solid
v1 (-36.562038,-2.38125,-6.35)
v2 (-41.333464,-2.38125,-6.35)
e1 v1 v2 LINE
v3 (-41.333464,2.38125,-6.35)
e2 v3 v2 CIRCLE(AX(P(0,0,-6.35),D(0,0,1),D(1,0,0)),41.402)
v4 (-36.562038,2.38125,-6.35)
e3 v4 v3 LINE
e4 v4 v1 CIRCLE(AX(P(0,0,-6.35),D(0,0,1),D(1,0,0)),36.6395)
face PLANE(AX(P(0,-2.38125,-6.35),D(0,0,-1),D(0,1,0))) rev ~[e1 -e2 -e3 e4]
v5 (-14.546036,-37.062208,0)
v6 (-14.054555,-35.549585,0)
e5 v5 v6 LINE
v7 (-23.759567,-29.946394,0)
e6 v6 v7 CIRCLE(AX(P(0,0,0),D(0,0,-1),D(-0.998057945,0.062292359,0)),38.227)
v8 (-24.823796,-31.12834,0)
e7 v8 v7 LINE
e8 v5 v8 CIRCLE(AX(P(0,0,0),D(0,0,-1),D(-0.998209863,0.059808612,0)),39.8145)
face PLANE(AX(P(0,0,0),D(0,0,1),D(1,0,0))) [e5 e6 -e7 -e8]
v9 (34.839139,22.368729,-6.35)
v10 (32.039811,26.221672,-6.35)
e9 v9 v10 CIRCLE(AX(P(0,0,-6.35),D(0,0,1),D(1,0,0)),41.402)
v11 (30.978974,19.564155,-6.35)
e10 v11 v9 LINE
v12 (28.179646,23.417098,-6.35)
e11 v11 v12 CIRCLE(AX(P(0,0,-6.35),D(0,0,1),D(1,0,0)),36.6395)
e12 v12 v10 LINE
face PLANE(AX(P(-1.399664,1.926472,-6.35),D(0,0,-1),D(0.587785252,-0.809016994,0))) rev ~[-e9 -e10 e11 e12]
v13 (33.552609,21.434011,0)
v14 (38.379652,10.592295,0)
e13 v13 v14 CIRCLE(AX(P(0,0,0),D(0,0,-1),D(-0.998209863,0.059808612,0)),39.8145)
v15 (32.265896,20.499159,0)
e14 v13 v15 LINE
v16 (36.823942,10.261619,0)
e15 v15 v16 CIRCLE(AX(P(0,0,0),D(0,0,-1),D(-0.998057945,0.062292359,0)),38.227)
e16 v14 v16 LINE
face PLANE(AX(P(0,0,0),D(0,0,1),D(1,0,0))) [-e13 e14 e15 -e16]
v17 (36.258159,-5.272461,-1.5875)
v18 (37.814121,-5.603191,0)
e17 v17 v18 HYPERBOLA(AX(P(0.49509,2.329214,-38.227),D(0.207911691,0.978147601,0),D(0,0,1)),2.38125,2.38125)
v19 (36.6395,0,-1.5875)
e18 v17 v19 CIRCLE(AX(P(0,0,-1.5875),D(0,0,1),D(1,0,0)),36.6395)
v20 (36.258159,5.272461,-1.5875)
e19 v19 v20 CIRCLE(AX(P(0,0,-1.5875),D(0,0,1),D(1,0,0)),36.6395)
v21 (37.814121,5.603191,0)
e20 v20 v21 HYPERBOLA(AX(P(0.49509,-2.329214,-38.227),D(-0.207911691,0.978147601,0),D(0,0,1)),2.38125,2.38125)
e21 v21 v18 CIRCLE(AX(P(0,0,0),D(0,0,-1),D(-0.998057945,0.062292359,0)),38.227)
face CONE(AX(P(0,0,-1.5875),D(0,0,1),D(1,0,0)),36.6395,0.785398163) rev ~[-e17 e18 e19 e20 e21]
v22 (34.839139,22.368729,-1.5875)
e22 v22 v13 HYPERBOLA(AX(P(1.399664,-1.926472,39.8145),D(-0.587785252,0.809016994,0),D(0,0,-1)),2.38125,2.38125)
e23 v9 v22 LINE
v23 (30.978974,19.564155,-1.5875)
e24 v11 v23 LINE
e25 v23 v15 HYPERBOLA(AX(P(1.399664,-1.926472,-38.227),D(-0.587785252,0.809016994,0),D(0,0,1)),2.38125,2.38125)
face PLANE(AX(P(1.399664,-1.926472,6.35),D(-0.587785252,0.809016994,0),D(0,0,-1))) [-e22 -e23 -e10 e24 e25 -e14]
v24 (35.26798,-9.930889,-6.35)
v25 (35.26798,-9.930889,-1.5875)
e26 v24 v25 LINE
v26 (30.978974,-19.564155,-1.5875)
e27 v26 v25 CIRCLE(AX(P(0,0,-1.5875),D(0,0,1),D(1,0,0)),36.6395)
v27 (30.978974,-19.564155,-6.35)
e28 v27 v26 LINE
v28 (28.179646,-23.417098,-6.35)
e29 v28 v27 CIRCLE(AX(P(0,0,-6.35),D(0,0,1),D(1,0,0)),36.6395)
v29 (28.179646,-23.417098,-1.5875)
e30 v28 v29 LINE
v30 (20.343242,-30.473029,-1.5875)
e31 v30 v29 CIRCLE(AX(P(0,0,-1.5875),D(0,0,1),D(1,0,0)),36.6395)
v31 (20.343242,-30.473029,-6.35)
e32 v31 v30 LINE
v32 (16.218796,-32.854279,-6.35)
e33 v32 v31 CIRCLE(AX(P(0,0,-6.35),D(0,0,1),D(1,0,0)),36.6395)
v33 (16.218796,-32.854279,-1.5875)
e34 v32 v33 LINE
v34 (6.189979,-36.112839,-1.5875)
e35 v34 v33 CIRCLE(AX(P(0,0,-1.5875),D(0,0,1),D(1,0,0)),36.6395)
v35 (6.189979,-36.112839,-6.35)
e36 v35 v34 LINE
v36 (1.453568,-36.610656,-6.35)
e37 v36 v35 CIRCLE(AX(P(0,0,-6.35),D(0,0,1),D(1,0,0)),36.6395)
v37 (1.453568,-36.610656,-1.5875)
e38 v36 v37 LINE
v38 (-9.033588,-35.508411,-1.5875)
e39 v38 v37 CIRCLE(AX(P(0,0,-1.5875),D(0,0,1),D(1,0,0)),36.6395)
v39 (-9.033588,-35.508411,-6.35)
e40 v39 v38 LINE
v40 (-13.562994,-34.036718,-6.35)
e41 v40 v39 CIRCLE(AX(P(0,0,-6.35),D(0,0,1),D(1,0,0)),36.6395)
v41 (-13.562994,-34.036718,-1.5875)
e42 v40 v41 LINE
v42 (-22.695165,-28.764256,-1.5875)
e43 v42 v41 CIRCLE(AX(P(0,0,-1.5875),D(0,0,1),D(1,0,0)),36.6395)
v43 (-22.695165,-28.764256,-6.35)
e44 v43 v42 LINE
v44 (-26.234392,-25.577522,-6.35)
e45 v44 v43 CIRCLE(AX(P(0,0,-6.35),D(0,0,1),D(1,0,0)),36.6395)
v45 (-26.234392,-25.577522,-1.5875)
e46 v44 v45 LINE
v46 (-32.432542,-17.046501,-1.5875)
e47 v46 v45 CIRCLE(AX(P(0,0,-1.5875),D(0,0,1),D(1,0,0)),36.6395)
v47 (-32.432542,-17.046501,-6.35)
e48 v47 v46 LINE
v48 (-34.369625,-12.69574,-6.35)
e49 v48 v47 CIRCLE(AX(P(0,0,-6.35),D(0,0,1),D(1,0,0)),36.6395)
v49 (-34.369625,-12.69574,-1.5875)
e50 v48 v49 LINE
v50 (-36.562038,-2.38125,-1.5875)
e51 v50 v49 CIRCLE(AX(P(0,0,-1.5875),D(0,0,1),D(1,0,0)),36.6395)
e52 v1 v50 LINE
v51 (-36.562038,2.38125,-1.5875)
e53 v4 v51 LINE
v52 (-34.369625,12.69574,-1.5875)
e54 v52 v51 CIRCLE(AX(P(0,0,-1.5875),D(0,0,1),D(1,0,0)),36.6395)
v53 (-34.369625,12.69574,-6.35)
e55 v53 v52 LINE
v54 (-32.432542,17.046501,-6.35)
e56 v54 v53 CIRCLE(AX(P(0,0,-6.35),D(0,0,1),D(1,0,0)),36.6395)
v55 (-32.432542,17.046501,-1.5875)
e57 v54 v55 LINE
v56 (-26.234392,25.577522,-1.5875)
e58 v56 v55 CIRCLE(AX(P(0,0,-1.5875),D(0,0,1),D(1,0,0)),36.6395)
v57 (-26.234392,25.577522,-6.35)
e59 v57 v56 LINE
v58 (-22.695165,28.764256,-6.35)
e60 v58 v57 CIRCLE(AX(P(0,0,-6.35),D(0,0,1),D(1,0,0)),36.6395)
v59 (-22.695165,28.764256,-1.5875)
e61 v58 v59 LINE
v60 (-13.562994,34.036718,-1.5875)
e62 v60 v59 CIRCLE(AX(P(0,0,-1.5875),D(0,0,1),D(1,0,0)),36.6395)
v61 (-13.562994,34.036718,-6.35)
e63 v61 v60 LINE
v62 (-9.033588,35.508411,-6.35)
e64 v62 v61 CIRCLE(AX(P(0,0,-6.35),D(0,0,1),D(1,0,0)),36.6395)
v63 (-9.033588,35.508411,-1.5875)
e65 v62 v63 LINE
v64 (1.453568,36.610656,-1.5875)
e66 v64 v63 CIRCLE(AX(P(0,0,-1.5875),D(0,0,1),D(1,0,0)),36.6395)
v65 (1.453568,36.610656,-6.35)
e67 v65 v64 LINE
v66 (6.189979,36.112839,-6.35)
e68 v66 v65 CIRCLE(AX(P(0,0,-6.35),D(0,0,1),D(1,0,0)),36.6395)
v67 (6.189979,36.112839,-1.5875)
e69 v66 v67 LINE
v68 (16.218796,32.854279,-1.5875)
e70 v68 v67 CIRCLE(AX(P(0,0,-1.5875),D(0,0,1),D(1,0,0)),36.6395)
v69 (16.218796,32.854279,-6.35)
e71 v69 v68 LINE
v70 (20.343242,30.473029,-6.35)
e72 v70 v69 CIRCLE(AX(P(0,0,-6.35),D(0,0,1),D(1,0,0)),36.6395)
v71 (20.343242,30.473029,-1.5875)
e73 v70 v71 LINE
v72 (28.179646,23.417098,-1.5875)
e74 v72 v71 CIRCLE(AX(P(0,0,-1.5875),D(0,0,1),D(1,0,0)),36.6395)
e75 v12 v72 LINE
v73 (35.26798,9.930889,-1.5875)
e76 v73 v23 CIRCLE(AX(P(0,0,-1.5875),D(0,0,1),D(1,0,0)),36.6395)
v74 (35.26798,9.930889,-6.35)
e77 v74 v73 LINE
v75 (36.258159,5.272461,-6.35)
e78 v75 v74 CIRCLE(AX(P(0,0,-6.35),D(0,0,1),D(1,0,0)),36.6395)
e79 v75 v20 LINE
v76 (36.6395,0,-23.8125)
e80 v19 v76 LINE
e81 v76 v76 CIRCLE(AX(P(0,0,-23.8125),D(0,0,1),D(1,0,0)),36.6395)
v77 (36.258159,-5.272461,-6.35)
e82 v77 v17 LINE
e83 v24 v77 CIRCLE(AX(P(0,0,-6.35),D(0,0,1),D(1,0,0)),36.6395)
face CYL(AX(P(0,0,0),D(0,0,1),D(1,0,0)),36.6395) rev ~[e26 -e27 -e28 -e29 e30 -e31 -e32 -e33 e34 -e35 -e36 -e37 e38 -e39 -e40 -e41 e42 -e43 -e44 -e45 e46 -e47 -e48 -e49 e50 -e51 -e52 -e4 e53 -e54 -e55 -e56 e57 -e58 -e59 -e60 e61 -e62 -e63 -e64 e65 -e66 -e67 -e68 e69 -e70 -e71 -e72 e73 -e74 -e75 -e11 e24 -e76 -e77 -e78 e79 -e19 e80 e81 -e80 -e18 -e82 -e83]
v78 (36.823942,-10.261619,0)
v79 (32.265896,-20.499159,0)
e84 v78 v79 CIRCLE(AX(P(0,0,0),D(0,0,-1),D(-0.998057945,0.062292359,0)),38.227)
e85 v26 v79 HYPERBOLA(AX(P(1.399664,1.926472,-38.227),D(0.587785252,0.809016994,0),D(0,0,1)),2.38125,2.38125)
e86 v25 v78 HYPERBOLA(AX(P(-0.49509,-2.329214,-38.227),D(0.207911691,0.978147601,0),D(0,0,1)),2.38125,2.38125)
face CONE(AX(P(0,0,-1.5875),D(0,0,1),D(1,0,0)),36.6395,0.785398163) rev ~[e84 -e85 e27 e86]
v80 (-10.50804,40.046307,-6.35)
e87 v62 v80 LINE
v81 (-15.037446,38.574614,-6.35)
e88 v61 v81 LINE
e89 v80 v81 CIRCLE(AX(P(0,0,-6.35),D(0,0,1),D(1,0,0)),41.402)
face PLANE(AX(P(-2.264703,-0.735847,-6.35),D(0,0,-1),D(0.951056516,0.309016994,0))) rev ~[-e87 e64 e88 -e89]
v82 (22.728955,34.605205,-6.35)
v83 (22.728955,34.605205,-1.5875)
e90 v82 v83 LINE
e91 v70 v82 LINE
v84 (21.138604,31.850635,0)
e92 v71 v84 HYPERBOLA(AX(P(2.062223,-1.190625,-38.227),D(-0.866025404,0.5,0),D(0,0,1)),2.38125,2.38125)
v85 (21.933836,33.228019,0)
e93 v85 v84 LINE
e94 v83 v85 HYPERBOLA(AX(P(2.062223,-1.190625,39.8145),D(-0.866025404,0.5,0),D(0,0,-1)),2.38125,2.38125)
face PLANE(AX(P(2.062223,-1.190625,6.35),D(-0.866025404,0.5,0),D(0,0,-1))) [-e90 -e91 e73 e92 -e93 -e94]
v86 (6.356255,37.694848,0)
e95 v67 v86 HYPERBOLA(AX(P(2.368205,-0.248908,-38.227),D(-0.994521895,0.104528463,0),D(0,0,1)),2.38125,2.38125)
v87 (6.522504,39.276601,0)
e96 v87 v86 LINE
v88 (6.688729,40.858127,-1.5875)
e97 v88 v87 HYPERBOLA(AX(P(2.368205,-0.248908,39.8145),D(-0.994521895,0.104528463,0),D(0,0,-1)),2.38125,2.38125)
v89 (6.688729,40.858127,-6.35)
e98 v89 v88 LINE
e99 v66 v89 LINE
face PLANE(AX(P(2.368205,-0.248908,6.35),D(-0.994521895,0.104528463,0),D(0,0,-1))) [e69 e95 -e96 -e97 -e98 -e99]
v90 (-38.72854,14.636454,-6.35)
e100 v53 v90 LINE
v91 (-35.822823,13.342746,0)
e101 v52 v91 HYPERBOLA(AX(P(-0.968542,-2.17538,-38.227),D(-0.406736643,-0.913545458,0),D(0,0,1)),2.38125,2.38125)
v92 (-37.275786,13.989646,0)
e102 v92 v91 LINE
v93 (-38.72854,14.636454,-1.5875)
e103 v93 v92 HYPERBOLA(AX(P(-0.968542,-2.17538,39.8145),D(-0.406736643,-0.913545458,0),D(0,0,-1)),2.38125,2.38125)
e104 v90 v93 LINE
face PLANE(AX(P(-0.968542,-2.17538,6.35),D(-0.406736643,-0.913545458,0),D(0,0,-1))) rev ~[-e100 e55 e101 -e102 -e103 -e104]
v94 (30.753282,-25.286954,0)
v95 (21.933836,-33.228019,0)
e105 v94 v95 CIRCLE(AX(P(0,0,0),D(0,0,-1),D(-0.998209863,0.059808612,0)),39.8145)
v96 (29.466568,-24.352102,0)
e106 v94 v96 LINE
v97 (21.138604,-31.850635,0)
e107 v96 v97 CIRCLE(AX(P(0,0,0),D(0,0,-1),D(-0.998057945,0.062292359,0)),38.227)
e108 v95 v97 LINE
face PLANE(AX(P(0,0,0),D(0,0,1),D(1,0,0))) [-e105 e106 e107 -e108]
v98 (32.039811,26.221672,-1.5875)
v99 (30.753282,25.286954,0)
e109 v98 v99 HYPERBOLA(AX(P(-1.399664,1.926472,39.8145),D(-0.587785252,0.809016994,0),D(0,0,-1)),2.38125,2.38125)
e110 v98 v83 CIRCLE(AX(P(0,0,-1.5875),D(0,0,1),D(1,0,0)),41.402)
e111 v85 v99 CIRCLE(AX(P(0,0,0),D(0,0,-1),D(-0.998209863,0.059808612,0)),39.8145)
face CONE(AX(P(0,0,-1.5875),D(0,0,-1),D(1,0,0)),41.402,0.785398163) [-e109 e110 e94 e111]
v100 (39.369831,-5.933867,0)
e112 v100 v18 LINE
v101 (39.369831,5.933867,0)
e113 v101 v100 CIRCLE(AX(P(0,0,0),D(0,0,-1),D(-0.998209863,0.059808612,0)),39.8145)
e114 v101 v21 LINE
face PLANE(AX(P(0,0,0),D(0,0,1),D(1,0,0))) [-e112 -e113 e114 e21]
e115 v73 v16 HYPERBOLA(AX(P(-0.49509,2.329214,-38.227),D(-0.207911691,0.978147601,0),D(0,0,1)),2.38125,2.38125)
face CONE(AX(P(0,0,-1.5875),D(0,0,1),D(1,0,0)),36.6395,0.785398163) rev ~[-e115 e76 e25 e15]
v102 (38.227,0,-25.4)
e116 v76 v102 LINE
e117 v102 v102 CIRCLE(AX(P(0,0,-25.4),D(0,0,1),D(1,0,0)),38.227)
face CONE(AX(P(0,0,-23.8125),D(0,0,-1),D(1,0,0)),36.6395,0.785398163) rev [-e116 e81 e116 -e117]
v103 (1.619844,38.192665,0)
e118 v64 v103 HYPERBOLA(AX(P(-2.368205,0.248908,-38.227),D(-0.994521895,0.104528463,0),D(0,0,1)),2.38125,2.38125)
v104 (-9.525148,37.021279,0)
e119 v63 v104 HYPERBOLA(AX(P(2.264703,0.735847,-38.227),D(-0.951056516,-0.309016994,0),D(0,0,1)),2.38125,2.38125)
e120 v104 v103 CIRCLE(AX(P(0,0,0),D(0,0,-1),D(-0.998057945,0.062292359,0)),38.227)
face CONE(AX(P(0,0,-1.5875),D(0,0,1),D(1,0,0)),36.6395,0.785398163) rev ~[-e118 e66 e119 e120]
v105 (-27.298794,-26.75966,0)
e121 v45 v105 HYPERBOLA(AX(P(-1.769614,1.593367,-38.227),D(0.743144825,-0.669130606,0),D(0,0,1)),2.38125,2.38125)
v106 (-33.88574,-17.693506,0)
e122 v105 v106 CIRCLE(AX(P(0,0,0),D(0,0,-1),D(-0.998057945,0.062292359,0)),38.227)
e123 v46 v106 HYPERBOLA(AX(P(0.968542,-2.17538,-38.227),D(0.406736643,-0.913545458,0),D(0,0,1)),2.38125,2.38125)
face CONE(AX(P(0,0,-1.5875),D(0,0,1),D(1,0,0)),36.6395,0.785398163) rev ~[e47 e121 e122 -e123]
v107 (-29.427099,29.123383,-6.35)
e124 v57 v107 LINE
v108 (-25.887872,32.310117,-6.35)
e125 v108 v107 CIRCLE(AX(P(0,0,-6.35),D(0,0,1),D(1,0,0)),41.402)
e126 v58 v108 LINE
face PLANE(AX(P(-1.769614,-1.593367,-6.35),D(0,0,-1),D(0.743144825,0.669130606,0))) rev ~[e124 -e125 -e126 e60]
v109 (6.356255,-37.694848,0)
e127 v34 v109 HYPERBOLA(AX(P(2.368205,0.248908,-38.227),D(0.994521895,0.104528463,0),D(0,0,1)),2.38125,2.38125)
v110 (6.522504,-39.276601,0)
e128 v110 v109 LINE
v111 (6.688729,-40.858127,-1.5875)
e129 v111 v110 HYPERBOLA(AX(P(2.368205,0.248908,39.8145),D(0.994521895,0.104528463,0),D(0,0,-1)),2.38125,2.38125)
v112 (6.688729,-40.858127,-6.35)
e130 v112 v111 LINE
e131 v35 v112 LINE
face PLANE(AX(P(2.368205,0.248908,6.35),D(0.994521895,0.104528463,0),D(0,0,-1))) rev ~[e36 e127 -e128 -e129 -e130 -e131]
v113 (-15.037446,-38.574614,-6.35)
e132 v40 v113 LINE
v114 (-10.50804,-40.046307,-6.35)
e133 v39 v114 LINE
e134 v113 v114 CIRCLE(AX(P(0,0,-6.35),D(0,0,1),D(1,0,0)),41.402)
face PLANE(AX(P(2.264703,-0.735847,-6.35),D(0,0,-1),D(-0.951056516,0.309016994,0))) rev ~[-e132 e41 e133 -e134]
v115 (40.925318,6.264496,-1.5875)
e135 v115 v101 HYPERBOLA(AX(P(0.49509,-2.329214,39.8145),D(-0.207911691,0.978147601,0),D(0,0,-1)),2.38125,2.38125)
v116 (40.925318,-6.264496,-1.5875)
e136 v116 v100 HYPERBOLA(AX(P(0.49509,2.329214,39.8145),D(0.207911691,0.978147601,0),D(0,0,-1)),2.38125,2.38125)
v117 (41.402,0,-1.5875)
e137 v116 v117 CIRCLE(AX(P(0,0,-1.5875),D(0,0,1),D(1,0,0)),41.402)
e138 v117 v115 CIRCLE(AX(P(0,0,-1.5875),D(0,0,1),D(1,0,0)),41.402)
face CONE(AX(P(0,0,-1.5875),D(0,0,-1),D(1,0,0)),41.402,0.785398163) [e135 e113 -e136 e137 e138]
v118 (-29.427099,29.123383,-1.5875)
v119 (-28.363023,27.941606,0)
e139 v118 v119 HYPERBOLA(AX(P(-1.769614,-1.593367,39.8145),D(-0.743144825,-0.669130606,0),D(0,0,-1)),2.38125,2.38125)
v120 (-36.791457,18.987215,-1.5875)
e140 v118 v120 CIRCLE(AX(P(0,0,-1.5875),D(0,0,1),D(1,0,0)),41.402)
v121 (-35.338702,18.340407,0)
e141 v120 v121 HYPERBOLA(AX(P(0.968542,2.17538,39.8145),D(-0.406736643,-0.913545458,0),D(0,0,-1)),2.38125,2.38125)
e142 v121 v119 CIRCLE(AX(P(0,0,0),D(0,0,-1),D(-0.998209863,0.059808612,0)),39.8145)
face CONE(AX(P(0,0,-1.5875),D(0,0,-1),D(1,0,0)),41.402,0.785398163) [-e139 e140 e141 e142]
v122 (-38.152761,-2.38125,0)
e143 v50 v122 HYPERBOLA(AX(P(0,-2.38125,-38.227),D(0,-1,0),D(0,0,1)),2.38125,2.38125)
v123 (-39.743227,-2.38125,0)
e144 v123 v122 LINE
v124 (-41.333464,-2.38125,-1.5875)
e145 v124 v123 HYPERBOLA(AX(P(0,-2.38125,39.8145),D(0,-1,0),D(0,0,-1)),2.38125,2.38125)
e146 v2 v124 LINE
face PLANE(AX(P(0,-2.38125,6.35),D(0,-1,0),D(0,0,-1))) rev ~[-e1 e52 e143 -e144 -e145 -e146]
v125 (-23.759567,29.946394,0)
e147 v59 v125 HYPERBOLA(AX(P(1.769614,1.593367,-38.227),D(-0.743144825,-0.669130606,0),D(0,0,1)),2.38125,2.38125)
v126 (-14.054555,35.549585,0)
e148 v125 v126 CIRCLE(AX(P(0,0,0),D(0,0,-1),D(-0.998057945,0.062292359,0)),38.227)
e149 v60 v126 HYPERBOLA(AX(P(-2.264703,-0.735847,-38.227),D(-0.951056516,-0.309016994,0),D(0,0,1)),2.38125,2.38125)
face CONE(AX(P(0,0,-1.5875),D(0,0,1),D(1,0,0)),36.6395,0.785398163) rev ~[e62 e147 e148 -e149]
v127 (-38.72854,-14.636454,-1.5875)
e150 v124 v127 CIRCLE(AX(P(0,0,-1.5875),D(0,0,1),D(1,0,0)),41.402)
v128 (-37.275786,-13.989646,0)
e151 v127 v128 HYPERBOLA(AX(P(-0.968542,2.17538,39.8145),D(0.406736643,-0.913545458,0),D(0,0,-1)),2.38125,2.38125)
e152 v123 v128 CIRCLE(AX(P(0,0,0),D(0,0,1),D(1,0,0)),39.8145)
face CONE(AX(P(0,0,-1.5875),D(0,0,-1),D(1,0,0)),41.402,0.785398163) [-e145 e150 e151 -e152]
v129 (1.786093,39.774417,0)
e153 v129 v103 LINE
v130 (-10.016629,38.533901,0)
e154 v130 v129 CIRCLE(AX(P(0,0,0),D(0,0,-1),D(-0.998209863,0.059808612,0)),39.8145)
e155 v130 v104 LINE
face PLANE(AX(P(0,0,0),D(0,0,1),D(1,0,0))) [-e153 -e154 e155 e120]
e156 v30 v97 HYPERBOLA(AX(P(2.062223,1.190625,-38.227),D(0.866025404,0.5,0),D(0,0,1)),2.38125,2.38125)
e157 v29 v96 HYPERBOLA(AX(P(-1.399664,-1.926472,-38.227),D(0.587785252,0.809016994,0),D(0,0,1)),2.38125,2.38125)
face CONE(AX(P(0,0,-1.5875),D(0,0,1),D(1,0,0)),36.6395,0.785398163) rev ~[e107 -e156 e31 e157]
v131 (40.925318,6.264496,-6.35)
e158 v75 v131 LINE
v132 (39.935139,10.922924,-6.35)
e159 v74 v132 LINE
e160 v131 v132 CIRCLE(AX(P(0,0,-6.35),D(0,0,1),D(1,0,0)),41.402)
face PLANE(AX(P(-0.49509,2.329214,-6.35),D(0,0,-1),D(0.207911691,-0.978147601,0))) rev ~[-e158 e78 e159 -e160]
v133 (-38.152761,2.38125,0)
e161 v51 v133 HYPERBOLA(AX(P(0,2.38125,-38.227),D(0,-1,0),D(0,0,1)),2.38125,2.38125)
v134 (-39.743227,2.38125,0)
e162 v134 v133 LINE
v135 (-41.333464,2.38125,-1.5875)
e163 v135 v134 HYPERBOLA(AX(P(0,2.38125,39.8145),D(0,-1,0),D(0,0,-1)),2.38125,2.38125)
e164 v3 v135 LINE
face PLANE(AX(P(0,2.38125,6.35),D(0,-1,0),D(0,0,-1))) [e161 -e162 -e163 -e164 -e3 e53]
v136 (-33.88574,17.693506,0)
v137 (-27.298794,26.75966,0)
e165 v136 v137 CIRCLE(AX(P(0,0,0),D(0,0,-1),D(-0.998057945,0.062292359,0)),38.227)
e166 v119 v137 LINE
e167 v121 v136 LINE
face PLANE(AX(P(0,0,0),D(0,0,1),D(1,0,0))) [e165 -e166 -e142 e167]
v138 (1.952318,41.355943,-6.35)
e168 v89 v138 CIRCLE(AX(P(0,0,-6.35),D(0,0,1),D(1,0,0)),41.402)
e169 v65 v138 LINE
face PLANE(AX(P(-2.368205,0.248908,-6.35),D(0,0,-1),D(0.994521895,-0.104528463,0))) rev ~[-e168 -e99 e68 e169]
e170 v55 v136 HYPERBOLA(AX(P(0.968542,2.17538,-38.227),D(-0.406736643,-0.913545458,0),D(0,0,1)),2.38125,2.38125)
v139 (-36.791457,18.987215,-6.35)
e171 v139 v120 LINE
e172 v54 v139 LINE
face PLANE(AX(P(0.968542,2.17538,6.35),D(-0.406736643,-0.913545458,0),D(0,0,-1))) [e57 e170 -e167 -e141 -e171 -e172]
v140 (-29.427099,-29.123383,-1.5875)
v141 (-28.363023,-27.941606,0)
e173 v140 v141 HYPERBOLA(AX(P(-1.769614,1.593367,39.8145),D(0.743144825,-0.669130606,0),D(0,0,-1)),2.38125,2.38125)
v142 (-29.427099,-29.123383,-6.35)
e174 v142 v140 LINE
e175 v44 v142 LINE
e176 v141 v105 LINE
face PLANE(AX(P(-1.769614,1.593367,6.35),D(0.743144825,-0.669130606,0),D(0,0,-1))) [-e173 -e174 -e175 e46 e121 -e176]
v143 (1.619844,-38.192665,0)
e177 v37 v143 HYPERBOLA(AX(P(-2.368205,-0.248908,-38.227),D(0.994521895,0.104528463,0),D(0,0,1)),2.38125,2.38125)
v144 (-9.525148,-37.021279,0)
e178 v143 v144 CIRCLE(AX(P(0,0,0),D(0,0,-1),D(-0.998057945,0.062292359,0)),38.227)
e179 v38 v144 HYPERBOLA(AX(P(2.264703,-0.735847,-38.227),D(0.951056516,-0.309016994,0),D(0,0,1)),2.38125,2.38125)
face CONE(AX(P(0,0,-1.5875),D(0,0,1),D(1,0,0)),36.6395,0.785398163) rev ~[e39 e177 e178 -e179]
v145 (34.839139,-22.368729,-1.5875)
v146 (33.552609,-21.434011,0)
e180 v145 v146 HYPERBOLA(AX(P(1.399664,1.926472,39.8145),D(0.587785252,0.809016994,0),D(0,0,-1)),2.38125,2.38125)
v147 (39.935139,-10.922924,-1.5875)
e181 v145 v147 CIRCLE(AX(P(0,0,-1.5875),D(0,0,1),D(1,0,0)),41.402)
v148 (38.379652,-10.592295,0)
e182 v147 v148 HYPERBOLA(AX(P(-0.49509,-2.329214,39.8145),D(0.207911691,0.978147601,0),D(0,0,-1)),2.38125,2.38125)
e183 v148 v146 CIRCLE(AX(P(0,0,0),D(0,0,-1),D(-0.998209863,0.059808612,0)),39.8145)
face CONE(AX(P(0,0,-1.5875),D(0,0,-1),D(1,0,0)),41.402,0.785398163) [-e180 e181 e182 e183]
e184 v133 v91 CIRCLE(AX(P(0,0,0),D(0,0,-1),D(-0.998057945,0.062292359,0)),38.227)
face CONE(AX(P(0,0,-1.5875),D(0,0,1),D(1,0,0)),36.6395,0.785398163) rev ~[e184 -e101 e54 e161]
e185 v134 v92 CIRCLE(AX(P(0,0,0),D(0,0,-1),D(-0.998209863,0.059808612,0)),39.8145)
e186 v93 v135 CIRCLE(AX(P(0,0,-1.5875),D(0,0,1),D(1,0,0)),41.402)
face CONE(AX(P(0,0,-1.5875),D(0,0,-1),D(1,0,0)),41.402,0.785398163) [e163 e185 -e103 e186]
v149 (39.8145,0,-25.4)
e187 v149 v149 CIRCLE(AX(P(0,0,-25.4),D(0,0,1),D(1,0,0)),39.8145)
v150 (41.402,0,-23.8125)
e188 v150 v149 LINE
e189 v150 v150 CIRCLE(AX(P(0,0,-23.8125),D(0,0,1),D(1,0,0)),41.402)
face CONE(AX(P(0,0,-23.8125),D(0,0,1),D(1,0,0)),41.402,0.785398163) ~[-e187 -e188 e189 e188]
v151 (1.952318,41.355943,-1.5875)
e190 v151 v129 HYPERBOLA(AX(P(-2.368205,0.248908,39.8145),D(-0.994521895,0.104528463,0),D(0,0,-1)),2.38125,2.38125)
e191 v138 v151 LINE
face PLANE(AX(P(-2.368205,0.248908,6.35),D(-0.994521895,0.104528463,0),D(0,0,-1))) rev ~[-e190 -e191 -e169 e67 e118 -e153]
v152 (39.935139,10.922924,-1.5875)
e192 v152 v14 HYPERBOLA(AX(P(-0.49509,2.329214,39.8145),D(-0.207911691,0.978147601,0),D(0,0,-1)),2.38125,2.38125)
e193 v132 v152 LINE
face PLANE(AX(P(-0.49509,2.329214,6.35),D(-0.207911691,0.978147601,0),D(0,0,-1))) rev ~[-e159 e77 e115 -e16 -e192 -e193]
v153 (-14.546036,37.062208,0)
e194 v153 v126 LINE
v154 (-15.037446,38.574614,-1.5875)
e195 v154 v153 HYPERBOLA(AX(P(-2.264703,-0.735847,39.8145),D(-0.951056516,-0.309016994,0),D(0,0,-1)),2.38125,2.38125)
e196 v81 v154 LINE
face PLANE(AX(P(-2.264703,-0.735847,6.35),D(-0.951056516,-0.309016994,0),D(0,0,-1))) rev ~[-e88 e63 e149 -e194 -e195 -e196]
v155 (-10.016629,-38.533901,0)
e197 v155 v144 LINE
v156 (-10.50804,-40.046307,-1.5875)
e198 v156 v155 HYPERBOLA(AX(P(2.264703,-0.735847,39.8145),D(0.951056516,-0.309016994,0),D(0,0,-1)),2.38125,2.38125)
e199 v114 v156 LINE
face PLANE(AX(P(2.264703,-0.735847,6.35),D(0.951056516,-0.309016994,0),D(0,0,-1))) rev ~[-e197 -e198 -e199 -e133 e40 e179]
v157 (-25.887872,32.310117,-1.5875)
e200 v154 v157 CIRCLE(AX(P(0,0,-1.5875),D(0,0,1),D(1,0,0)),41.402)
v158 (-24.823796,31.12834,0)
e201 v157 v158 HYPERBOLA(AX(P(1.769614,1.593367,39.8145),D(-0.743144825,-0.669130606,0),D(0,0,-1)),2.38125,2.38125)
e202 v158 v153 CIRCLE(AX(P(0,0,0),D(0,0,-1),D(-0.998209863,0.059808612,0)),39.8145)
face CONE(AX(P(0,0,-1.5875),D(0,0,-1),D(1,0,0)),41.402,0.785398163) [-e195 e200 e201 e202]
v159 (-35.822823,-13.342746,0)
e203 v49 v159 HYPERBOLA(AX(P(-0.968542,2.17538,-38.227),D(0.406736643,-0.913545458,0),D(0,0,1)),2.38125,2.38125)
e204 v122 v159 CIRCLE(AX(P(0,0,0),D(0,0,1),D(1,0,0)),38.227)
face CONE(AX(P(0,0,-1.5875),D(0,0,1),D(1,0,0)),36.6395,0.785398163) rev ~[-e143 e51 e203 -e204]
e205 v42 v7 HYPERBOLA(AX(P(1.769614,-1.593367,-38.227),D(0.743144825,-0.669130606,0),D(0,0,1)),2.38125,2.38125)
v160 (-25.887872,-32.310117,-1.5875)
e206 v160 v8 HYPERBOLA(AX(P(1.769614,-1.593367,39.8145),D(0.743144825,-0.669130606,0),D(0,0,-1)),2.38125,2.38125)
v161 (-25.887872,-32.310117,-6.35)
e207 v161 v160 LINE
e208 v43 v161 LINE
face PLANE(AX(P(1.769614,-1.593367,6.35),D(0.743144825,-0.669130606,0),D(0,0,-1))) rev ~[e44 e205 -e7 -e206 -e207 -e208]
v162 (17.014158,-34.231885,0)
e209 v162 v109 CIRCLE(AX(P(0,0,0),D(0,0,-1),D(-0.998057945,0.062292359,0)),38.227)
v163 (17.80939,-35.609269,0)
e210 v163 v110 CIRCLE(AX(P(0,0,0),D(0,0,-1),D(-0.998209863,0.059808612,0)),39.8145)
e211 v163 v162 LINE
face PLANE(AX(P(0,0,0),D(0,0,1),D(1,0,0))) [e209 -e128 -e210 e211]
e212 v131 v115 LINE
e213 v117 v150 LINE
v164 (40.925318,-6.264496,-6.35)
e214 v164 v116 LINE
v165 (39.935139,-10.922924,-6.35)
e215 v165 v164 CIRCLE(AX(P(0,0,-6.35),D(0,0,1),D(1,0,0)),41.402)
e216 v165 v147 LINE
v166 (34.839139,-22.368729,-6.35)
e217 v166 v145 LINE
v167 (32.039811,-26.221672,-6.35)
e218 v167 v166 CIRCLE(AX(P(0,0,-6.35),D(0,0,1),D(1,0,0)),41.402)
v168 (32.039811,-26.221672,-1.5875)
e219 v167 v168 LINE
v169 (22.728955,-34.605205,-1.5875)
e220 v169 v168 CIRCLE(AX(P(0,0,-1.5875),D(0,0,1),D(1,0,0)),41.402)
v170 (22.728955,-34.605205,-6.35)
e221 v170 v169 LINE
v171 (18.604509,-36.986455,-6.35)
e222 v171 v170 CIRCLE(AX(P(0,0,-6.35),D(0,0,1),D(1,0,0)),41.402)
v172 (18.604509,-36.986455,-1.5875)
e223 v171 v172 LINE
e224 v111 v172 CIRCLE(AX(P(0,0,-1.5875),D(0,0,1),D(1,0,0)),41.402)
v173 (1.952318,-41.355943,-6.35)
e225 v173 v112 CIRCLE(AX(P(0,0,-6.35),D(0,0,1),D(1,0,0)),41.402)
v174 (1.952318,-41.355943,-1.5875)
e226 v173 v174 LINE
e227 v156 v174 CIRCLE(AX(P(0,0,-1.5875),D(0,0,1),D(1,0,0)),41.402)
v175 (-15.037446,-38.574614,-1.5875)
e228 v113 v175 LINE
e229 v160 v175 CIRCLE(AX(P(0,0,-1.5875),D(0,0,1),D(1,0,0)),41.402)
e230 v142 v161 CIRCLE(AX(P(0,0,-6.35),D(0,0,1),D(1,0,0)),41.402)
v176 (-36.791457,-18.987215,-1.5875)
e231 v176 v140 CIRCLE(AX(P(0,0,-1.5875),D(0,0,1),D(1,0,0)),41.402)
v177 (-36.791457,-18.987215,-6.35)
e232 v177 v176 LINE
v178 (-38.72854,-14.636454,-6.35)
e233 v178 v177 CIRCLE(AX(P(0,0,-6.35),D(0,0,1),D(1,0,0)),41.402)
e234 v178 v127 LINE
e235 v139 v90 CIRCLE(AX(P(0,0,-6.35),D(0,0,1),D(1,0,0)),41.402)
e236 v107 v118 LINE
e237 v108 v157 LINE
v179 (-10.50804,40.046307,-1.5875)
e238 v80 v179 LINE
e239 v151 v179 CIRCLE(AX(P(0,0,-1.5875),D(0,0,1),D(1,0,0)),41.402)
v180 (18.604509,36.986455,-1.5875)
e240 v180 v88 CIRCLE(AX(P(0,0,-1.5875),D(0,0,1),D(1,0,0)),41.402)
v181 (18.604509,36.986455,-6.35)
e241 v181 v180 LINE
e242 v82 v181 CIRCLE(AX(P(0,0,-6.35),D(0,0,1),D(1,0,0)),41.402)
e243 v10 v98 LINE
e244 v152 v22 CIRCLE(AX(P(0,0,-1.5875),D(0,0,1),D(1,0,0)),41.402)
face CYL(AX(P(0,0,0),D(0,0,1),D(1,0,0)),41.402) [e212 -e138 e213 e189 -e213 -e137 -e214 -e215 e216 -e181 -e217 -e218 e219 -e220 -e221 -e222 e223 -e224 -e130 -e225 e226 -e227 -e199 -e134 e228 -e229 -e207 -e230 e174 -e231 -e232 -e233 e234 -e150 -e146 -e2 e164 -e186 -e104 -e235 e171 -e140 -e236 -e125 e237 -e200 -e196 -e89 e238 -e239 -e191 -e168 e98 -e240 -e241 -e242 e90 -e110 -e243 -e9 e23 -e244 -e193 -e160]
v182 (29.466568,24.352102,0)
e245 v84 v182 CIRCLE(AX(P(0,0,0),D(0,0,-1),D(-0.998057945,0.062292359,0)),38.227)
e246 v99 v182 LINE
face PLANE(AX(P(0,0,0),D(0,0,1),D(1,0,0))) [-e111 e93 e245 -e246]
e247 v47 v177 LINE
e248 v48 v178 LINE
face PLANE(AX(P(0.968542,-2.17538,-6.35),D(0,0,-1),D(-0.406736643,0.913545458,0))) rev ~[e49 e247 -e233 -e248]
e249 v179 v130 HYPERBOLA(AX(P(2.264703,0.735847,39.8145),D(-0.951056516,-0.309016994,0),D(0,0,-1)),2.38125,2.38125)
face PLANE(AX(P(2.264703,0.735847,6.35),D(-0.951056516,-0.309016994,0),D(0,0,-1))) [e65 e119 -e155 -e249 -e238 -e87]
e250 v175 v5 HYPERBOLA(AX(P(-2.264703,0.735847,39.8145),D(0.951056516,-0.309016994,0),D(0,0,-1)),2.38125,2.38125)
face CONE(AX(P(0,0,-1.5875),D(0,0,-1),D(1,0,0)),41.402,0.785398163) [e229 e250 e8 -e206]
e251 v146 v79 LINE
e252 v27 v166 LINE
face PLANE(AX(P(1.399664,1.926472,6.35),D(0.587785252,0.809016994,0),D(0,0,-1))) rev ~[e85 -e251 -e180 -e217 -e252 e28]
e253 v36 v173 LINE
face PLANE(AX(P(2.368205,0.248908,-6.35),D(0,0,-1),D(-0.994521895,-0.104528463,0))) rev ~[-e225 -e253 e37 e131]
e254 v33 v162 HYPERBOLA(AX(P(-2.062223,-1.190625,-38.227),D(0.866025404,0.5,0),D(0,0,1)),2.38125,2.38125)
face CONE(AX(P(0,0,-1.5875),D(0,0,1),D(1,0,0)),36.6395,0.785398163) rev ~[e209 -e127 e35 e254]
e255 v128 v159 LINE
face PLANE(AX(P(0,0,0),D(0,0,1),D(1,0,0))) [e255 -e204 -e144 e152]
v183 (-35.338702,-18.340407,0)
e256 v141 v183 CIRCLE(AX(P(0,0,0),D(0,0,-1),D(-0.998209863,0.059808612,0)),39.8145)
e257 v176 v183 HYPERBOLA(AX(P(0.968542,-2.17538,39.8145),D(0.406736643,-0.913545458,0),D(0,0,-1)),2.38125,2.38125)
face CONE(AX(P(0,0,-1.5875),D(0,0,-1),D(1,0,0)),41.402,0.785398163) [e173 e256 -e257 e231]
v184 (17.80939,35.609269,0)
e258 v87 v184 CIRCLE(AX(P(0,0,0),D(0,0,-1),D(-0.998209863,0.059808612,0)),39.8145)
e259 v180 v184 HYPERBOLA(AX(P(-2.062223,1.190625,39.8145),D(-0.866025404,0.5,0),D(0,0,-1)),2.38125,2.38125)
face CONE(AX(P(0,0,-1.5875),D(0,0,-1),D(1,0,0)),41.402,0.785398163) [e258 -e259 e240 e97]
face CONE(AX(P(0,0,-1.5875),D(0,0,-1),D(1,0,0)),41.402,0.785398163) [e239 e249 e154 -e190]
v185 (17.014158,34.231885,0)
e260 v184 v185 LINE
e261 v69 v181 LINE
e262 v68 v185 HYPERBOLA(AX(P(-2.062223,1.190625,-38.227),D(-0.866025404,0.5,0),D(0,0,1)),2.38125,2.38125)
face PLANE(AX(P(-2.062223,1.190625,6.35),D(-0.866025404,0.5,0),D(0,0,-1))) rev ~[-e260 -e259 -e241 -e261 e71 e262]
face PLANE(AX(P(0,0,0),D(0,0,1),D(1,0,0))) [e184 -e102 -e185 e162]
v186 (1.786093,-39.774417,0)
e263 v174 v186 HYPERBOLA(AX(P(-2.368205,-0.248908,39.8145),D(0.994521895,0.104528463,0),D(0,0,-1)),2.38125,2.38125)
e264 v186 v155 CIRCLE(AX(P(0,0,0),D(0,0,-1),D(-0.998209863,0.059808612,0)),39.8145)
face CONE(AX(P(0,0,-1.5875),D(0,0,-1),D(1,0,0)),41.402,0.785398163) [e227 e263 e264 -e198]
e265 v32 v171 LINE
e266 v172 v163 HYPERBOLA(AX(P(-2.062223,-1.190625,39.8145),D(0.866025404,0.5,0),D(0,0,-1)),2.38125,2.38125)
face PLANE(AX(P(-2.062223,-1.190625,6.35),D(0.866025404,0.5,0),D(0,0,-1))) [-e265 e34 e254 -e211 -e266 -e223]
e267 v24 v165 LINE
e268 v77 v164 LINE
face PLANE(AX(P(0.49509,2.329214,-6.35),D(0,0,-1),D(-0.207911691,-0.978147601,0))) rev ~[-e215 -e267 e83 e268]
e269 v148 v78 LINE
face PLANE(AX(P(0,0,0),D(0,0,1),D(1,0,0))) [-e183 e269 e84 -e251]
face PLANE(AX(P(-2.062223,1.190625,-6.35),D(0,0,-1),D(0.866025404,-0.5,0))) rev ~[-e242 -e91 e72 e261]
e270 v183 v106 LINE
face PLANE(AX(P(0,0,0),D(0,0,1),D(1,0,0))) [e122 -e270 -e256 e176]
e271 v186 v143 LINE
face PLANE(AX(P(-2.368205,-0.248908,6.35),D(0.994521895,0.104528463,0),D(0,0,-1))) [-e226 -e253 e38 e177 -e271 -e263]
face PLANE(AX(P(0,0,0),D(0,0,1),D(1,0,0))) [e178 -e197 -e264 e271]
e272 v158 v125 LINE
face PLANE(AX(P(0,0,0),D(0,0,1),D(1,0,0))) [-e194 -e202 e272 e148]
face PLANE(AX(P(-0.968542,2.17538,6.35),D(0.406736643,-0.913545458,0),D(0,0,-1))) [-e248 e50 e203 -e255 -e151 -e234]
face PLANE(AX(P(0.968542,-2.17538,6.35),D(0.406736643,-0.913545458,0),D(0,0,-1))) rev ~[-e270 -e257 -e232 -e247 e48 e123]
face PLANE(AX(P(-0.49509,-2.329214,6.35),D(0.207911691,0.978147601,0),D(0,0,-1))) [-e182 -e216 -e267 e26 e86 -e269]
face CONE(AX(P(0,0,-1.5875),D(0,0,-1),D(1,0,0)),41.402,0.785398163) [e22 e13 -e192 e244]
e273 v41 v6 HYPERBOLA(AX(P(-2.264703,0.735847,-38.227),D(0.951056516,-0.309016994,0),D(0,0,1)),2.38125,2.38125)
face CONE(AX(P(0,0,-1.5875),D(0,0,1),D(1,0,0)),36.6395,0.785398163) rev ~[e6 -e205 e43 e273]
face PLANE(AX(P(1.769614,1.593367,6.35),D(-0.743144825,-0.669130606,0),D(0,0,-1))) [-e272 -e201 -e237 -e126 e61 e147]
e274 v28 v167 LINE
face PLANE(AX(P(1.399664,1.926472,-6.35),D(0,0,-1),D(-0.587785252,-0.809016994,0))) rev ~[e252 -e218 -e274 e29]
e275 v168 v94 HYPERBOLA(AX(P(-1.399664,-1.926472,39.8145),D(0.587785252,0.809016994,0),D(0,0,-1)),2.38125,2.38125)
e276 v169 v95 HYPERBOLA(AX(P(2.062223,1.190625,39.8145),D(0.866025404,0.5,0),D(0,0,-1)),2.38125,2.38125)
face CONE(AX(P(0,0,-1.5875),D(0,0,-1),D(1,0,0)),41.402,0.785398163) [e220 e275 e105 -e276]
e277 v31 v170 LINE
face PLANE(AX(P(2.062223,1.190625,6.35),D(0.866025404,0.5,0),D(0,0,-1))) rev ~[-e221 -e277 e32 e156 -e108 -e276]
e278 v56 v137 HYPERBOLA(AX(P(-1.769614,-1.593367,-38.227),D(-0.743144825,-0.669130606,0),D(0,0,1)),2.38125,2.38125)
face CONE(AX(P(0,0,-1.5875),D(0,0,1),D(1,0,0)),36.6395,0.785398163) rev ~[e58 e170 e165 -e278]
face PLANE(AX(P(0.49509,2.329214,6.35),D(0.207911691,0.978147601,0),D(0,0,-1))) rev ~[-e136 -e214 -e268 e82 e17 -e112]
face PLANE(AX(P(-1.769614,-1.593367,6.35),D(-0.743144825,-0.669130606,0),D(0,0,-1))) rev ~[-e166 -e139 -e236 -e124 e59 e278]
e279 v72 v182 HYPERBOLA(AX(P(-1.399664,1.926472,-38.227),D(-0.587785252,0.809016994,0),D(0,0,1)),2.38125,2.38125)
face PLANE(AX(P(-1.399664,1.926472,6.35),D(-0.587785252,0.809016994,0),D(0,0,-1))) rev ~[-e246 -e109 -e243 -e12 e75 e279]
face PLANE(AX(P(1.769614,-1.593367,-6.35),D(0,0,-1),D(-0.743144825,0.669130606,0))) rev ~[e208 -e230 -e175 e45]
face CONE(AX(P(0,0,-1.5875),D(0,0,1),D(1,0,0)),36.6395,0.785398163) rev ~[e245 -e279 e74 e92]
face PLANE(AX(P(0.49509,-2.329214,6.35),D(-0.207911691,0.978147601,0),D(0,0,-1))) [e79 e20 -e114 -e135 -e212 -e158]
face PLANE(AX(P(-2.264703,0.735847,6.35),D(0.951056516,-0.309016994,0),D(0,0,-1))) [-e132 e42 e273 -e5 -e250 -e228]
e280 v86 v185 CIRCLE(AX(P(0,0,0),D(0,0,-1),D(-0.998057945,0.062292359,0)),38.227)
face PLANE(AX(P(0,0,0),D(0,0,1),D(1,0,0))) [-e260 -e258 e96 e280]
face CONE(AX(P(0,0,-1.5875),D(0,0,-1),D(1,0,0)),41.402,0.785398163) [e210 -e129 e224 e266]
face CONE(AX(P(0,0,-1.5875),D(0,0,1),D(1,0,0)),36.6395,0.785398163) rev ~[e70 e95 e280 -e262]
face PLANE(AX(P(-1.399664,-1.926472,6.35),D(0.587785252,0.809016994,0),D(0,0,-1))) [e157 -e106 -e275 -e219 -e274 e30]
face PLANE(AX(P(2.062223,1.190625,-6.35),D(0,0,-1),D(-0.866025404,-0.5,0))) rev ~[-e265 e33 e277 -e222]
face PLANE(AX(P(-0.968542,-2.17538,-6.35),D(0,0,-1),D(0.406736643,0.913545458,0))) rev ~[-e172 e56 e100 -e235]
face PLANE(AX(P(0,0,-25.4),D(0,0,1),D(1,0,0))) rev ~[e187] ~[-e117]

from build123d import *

# Parameters (mm, degrees)
SKETCH1_R           = 41.402
SKETCH1_R_2         = 36.6395
BOSS_EXTRUDE1_DEPTH = 25.4
CHAMFER1_SIZE       = 1.5875
SKETCH2_W           = 12.7
SKETCH2_H           = 4.7625
CUT_EXTRUDE1_DEPTH  = 64.823281081
CIRPATTERN1_COUNT   = 15


with BuildPart() as part:
    # Sketch1 → Boss-Extrude1 (new body)
    with BuildSketch(Plane.XY):
        Circle(SKETCH1_R)
        Circle(SKETCH1_R_2, mode=Mode.SUBTRACT)
    extrude(amount=-BOSS_EXTRUDE1_DEPTH)

    # Chamfer1
    chamfer1_edges = [part.edges().sort_by_distance(p)[0] for p in [
        (-41.402, 0, 0),
        (-41.402, 0, -25.4),
        (-36.6395, 0, -25.4),
        (-36.6395, 0, 0),
    ]]
    chamfer(chamfer1_edges, length=CHAMFER1_SIZE)

    # Sketch2 → Cut-Extrude1 (cut, through all)
    with BuildSketch(Plane(origin=(0, 0, 0), x_dir=(0, 0, -1), z_dir=(1, 0, 0))):
        Rectangle(SKETCH2_W, SKETCH2_H)
    cut_extrude1 = extrude(amount=-CUT_EXTRUDE1_DEPTH, mode=Mode.SUBTRACT)

    # CirPattern1: Cut-Extrude1 ×15 about axis
    cirpattern1_axis = Axis((0, 0, 0), (0, 0, 1))
    for i in range(1, CIRPATTERN1_COUNT):
        add(cut_extrude1.rotate(cirpattern1_axis, i * 360 / CIRPATTERN1_COUNT), mode=Mode.SUBTRACT)


solid = part.part
